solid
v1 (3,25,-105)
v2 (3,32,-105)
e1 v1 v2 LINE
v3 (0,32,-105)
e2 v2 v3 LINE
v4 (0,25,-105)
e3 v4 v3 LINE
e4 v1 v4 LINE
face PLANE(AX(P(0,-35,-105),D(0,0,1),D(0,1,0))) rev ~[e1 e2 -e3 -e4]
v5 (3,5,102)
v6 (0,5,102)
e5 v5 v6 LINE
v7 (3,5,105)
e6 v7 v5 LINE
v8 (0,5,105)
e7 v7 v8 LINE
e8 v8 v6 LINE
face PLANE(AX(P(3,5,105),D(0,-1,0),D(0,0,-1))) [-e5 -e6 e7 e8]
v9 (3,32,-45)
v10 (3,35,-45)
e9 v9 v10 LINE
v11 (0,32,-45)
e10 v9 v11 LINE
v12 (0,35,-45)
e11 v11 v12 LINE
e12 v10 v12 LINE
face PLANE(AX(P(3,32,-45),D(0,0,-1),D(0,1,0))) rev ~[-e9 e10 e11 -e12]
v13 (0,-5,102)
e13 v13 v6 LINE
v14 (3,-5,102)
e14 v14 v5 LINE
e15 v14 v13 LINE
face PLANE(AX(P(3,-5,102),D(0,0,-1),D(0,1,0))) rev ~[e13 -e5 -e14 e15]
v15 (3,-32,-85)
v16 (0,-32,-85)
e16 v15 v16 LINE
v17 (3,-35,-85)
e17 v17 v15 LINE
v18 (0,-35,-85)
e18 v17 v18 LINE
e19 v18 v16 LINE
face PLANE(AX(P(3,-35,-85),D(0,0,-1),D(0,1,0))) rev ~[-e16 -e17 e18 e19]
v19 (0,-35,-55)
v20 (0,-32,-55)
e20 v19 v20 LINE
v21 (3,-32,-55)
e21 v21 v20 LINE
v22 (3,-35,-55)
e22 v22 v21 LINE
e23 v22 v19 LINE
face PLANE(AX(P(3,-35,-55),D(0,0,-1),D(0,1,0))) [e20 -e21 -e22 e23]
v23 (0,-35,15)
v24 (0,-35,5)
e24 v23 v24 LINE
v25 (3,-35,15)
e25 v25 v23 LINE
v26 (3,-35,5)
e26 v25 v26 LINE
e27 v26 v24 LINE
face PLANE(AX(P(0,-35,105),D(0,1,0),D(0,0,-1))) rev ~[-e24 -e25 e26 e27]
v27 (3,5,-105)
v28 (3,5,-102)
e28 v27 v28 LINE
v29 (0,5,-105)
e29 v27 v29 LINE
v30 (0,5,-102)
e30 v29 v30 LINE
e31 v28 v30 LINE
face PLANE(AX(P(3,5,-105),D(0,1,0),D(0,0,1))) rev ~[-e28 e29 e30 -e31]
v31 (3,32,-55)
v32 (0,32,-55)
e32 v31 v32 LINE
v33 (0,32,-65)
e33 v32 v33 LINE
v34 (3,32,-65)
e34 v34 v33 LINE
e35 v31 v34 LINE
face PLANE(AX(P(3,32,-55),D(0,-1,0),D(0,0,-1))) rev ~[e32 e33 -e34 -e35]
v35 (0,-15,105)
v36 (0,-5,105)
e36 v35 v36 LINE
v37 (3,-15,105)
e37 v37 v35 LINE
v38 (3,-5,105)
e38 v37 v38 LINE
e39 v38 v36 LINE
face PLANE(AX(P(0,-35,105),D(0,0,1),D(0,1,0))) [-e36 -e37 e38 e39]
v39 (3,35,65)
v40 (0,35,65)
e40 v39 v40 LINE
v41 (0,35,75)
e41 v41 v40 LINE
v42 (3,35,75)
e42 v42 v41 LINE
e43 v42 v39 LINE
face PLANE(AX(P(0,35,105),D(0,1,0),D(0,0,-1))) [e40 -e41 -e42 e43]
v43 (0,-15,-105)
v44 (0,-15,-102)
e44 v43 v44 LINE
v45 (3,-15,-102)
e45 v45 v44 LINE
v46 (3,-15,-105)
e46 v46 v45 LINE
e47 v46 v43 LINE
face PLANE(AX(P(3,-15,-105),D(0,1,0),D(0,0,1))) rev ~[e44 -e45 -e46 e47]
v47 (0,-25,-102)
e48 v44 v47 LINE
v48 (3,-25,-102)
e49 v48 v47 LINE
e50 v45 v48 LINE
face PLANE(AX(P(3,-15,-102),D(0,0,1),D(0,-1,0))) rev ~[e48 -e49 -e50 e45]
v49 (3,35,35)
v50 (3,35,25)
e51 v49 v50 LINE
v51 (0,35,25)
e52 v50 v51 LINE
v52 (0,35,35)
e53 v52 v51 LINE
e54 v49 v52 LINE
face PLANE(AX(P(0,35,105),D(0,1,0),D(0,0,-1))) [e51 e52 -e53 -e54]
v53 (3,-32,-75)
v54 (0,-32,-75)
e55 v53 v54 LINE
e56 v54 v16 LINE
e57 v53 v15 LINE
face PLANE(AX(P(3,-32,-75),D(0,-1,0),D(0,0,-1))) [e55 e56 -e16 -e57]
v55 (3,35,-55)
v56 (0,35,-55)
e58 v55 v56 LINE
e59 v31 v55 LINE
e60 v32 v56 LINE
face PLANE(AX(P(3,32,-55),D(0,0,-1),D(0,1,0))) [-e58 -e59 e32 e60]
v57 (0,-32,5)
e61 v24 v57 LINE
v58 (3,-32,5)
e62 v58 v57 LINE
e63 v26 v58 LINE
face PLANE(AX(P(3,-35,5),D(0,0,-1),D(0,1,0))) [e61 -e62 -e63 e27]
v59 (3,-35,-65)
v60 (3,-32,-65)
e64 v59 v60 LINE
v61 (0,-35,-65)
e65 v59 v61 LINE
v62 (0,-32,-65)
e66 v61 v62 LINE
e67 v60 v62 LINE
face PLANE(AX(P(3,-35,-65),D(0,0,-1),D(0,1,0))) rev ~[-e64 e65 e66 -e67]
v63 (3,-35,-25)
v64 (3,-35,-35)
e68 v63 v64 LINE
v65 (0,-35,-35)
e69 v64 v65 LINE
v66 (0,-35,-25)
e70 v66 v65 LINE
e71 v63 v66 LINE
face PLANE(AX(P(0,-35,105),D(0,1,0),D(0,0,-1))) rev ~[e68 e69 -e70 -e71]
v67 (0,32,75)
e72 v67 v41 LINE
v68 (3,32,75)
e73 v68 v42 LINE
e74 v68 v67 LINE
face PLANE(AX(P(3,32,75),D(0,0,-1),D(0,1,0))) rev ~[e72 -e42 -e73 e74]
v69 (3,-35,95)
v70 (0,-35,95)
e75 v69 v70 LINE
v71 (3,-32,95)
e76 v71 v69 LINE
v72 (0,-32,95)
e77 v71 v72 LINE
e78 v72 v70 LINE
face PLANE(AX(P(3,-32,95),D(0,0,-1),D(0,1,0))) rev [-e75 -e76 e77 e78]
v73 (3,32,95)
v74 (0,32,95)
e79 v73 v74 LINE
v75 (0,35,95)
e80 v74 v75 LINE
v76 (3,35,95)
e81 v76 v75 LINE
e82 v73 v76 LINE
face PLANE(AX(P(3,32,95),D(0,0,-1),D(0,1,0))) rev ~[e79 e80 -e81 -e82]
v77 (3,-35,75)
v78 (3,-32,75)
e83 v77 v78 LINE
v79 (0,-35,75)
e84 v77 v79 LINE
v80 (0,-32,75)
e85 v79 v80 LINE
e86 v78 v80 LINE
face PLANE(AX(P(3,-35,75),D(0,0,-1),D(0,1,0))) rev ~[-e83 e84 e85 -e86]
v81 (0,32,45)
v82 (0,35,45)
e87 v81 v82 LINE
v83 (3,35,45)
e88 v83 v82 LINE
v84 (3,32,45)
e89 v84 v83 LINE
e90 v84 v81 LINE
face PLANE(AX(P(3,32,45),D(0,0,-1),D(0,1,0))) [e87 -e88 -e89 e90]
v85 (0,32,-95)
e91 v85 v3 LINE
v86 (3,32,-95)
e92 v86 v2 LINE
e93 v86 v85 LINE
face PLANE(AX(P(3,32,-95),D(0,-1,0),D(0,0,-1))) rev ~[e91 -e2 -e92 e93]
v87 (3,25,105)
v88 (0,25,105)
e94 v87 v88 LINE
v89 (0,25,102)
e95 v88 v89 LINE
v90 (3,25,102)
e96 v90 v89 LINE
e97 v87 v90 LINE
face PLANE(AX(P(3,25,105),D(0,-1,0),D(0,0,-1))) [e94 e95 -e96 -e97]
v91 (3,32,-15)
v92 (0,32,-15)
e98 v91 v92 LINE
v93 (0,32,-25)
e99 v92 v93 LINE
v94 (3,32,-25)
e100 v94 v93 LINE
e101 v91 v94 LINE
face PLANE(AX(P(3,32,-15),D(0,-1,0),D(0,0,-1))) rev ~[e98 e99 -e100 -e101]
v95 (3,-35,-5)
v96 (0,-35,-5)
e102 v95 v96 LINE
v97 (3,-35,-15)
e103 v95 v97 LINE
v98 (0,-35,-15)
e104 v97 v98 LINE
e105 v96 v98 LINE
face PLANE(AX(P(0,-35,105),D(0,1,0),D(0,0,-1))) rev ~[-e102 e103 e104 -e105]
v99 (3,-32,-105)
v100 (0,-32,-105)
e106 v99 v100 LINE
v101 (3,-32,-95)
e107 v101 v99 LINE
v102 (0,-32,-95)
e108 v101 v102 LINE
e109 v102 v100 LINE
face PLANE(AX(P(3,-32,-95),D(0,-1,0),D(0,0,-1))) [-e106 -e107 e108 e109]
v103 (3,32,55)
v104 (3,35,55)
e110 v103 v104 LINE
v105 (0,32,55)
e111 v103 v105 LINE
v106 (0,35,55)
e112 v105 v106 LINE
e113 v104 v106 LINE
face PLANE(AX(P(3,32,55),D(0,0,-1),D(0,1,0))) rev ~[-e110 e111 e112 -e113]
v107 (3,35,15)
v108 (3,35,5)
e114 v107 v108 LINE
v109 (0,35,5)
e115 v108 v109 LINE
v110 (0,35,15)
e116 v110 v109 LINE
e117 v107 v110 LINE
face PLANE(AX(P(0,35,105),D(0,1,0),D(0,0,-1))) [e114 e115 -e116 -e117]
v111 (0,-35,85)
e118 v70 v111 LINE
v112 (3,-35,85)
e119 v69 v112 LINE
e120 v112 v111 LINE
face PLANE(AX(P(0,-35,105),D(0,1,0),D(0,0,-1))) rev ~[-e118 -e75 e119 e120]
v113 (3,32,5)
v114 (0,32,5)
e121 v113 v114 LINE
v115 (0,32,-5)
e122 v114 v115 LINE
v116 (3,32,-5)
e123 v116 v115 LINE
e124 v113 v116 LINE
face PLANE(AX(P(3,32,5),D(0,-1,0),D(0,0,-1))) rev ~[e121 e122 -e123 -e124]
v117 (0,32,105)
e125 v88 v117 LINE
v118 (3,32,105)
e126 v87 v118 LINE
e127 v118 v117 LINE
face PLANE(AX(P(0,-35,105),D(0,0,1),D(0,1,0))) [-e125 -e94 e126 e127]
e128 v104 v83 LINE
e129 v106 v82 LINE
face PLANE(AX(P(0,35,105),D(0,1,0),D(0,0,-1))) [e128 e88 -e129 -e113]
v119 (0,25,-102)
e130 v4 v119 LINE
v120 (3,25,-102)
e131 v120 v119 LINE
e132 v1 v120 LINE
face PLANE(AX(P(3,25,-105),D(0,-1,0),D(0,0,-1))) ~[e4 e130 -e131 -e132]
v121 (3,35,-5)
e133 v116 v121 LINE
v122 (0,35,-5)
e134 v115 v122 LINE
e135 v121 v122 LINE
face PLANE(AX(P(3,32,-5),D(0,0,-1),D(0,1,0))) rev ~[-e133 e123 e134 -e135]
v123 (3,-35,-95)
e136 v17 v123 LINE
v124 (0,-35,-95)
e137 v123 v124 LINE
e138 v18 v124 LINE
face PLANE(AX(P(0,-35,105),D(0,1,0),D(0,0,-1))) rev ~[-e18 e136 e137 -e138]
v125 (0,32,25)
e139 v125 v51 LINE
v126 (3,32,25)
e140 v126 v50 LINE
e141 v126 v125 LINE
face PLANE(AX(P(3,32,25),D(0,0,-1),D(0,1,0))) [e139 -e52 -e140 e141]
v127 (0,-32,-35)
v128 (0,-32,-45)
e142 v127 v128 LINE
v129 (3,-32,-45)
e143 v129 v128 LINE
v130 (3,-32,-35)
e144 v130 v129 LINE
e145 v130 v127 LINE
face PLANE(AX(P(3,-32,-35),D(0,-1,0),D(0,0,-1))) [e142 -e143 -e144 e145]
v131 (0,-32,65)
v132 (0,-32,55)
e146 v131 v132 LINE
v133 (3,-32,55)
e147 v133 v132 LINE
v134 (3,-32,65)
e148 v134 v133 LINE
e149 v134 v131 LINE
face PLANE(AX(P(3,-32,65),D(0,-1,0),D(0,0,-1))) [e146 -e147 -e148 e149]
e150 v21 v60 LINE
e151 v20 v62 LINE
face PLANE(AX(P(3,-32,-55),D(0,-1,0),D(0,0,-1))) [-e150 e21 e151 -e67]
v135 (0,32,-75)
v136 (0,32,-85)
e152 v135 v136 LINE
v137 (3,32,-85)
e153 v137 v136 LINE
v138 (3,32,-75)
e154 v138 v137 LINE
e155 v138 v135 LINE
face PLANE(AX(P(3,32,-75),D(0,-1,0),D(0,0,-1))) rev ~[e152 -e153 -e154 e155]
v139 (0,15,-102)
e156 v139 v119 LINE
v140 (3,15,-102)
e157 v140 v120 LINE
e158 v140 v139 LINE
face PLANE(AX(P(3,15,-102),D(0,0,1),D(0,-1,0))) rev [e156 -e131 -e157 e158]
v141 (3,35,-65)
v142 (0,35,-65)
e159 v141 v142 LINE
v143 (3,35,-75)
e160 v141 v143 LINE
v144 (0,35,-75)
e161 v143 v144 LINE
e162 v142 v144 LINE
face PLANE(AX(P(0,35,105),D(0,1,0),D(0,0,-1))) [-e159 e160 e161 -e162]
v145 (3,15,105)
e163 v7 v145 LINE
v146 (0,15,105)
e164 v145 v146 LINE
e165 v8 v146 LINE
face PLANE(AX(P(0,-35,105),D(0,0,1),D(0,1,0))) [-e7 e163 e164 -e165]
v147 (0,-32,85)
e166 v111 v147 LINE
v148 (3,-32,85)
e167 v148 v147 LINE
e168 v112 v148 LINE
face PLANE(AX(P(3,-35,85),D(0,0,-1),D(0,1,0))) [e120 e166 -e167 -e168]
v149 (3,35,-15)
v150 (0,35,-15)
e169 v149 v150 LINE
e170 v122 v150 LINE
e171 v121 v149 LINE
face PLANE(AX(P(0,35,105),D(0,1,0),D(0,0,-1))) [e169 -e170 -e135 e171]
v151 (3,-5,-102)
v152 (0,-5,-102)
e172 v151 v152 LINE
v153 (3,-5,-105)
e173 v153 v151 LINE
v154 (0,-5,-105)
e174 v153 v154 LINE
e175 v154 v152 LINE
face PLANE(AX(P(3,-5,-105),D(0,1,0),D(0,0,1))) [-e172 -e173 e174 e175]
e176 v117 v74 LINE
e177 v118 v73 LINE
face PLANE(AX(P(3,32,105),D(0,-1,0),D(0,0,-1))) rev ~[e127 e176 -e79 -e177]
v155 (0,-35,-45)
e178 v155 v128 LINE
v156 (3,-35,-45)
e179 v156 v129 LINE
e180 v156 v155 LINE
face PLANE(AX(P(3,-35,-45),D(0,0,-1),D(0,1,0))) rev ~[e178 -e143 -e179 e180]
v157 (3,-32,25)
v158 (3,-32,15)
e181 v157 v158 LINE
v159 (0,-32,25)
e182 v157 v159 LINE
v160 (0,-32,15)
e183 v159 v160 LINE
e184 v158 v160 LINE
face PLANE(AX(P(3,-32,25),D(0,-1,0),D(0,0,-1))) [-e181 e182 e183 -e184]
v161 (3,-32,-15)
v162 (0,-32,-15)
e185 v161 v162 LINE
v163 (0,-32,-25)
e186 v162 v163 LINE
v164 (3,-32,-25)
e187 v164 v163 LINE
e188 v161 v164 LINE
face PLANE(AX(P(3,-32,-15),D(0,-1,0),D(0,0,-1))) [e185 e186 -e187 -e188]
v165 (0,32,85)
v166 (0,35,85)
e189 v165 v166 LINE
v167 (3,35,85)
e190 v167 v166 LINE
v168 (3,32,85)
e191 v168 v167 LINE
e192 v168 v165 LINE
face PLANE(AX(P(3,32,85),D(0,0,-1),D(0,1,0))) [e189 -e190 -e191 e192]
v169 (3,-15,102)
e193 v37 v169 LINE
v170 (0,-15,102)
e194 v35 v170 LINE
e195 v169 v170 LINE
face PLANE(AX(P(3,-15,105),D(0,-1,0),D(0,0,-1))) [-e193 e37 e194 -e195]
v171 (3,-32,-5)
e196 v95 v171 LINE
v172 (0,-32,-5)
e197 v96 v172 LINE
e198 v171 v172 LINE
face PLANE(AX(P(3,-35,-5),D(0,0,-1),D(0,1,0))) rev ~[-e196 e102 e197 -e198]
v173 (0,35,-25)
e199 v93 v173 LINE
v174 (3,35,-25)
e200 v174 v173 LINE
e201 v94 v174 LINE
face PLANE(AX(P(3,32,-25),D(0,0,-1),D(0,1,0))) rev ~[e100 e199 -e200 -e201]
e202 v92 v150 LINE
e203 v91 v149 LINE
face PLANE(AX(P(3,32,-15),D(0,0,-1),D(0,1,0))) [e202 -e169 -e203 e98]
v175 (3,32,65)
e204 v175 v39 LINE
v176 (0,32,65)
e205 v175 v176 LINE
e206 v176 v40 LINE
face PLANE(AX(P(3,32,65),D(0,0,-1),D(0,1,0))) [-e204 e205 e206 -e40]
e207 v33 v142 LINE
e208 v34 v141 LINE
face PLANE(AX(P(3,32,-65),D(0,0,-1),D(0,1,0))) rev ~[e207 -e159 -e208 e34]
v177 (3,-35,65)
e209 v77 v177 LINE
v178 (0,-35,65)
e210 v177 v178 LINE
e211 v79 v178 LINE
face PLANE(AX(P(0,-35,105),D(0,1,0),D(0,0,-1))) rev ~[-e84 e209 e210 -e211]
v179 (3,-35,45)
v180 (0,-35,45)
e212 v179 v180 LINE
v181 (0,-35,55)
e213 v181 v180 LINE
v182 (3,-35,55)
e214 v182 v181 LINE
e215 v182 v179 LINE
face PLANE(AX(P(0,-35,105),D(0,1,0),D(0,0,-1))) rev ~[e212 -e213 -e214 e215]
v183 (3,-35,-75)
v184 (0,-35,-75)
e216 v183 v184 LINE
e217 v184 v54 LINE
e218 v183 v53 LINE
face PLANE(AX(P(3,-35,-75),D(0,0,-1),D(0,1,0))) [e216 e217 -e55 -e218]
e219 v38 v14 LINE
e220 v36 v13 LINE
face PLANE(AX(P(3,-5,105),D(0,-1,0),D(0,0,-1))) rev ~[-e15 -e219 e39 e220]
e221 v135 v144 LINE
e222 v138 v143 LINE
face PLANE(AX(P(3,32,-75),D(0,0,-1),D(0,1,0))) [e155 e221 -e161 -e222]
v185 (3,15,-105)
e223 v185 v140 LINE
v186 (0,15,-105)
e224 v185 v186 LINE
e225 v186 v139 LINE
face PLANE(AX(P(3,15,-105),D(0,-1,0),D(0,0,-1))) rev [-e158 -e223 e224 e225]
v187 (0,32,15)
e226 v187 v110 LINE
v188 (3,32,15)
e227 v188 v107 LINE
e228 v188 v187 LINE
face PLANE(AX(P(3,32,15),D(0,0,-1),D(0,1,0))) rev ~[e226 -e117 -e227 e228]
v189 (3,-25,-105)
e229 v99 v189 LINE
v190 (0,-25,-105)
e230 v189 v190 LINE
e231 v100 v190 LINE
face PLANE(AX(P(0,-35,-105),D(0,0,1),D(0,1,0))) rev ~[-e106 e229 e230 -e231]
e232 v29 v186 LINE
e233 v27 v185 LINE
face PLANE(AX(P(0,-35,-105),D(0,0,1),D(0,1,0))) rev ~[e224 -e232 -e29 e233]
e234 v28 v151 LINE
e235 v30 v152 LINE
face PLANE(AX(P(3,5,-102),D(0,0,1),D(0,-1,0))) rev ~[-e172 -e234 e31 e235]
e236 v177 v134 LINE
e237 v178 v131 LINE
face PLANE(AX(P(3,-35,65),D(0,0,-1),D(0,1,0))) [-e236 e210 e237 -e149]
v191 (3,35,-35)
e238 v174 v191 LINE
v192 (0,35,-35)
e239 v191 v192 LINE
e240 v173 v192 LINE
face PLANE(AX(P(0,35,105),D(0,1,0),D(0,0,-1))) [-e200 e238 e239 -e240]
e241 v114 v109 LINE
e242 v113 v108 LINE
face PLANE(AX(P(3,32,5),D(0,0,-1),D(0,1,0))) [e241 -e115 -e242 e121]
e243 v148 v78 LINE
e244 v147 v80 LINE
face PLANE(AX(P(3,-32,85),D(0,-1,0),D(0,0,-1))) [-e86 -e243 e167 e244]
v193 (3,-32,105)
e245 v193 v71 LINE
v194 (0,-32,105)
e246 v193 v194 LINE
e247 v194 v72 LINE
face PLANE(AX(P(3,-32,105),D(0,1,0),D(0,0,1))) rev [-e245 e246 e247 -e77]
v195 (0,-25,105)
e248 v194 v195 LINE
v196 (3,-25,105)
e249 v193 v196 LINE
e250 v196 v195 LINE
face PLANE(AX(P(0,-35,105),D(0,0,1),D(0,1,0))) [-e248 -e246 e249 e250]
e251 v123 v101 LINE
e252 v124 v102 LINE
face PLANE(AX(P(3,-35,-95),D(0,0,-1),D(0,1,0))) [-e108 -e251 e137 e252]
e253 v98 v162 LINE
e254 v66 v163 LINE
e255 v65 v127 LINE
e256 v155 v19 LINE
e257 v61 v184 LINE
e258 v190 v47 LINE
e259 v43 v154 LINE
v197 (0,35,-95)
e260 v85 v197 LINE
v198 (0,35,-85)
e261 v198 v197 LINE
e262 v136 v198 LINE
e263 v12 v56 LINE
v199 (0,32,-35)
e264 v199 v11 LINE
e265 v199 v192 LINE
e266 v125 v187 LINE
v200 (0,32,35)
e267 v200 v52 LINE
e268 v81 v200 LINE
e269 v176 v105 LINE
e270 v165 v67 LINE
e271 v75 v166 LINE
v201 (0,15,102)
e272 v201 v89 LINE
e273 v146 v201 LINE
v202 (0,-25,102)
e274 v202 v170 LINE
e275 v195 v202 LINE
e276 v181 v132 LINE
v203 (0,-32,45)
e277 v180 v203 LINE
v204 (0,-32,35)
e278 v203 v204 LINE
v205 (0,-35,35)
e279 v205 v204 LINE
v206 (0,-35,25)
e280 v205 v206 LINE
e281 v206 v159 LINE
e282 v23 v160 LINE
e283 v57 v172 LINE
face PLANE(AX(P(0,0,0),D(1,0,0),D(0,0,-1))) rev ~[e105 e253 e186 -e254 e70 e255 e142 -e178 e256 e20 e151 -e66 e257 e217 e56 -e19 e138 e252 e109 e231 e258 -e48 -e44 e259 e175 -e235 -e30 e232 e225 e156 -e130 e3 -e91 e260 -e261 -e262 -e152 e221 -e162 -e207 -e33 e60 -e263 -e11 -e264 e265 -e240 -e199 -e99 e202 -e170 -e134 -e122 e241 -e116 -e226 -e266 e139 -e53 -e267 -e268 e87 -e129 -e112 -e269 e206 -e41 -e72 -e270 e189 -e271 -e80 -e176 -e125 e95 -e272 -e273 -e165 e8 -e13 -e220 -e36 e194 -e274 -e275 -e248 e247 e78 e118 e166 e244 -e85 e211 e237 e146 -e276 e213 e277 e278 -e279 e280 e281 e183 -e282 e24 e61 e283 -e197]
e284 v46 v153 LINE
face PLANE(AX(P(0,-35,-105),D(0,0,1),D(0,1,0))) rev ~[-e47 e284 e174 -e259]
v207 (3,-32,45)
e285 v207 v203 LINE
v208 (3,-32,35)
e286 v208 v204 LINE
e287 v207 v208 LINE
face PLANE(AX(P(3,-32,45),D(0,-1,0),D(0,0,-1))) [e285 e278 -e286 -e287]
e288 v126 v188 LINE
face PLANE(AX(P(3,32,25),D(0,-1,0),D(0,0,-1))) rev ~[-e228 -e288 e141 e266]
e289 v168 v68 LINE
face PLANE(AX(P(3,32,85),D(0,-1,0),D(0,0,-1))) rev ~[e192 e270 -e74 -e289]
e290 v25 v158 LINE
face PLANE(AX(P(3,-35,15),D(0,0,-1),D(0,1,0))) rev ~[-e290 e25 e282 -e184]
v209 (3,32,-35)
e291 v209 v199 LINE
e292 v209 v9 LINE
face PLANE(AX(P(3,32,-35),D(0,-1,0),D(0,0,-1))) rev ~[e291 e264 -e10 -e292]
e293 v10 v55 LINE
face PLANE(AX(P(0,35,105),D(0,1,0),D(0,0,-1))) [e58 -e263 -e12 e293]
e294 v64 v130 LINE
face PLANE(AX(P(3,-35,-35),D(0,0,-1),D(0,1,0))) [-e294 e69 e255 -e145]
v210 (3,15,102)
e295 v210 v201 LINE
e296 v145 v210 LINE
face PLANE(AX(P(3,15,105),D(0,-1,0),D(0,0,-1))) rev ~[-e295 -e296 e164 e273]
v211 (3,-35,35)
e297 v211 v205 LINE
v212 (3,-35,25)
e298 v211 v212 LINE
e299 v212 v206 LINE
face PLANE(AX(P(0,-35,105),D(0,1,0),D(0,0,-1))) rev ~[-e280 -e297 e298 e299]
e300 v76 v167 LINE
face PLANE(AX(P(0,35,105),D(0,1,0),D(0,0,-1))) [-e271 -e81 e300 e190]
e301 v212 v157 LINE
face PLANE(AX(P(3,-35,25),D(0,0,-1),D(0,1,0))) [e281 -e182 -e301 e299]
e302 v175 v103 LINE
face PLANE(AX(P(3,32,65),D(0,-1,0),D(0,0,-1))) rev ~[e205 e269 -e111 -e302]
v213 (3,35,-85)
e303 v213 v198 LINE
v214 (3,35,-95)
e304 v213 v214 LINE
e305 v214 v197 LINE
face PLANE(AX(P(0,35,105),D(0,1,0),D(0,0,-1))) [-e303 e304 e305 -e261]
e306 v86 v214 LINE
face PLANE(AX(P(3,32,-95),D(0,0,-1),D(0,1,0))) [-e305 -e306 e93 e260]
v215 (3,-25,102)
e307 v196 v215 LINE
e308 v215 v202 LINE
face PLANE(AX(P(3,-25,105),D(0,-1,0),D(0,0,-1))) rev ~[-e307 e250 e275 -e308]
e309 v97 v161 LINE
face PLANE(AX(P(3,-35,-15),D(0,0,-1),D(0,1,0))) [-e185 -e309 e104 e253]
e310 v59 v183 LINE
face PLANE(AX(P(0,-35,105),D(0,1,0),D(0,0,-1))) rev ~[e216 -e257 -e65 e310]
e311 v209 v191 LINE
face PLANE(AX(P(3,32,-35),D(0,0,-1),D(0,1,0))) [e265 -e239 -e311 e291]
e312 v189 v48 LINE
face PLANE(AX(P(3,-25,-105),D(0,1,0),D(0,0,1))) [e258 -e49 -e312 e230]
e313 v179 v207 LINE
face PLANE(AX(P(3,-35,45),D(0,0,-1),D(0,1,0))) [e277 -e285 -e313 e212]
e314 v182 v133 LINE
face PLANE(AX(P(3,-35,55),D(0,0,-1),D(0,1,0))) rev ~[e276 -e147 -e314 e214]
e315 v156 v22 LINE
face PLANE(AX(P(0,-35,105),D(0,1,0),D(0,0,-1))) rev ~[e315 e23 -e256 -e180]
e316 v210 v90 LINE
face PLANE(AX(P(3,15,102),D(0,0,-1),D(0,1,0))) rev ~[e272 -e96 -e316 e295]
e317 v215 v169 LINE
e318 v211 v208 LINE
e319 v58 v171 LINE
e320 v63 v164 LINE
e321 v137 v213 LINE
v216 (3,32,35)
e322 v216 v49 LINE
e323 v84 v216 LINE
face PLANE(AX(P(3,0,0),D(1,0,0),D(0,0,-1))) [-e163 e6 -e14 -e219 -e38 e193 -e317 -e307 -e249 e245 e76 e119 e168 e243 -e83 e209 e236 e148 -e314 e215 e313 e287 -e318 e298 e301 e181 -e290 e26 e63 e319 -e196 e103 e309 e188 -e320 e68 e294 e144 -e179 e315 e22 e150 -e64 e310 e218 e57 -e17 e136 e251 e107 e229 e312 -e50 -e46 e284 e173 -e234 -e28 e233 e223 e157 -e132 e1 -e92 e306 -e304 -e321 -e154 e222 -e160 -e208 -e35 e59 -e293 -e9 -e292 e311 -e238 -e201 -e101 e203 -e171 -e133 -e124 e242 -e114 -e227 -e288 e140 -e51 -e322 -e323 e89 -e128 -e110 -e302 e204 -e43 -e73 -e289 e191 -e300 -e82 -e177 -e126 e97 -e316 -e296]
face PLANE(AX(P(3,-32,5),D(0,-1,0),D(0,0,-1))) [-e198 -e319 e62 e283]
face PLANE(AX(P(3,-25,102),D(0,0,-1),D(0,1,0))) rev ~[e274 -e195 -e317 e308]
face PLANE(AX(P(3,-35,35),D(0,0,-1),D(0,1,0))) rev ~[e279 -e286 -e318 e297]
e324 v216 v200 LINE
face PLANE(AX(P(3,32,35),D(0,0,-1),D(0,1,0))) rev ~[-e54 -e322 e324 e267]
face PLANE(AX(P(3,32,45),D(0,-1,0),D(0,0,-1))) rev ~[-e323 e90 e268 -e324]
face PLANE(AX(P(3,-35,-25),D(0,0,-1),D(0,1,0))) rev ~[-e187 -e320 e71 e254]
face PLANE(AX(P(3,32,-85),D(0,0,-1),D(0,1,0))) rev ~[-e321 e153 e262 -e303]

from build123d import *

# Parameters (mm, degrees)
SKETCH1_W                = 210
SKETCH1_H                = 70
BOSS_EXTRUDE1_DEPTH      = 3
SKETCH2_W                = 10
SKETCH2_H                = 3
CUT_EXTRUDE1_DEPTH       = 3
LPATTERN1_COUNT          = 11
LPATTERN1_PITCH          = 20
MIRROR1_COPY_1_SKETCH_W  = 10
MIRROR1_COPY_1_SKETCH_H  = 3
MIRROR1_COPY_1_DEPTH     = 3
MIRROR1_COPY_2_SKETCH_W  = 10
MIRROR1_COPY_2_SKETCH_H  = 3
MIRROR1_COPY_2_DEPTH     = 3
MIRROR1_COPY_3_SKETCH_W  = 10
MIRROR1_COPY_3_SKETCH_H  = 3
MIRROR1_COPY_3_DEPTH     = 3
MIRROR1_COPY_4_SKETCH_W  = 10
MIRROR1_COPY_4_SKETCH_H  = 3
MIRROR1_COPY_4_DEPTH     = 3
MIRROR1_COPY_5_SKETCH_W  = 10
MIRROR1_COPY_5_SKETCH_H  = 3
MIRROR1_COPY_5_DEPTH     = 3
MIRROR1_COPY_6_SKETCH_W  = 10
MIRROR1_COPY_6_SKETCH_H  = 3
MIRROR1_COPY_6_DEPTH     = 3
MIRROR1_COPY_7_SKETCH_W  = 10
MIRROR1_COPY_7_SKETCH_H  = 3
MIRROR1_COPY_7_DEPTH     = 3
MIRROR1_COPY_8_SKETCH_W  = 10
MIRROR1_COPY_8_SKETCH_H  = 3
MIRROR1_COPY_8_DEPTH     = 3
MIRROR1_COPY_9_SKETCH_W  = 10
MIRROR1_COPY_9_SKETCH_H  = 3
MIRROR1_COPY_9_DEPTH     = 3
MIRROR1_COPY_10_SKETCH_W = 10
MIRROR1_COPY_10_SKETCH_H = 3
MIRROR1_COPY_10_DEPTH    = 3
SKETCH3_W                = 3
SKETCH3_H                = 10
CUT_EXTRUDE2_DEPTH       = 3
LPATTERN2_COUNT          = 3
LPATTERN2_PITCH          = 20
MIRROR2_COPY_1_SKETCH_W  = 3
MIRROR2_COPY_1_SKETCH_H  = 10
MIRROR2_COPY_1_DEPTH     = 3
MIRROR2_COPY_2_SKETCH_W  = 3
MIRROR2_COPY_2_SKETCH_H  = 10
MIRROR2_COPY_2_DEPTH     = 3


with BuildPart() as part:
    # Sketch1 → Boss-Extrude1 (new body)
    with BuildSketch(Plane(origin=(0, 0, 0), x_dir=(0, 0, -1), z_dir=(1, 0, 0))):
        Rectangle(SKETCH1_W, SKETCH1_H)
    extrude(amount=BOSS_EXTRUDE1_DEPTH)

    # Sketch2 → Cut-Extrude1 (cut)
    with BuildSketch(Plane(origin=(3, 0, 0), x_dir=(0, 0, -1), z_dir=(1, 0, 0))):
        with Locations((-100, 33.5)):
            Rectangle(SKETCH2_W, SKETCH2_H)
    cut_extrude1 = extrude(amount=-CUT_EXTRUDE1_DEPTH, mode=Mode.SUBTRACT)

    # LPattern1: Cut-Extrude1 ×11
    with Locations(*[(0, 0, -i * LPATTERN1_PITCH) for i in range(1, LPATTERN1_COUNT)]):
        add(cut_extrude1, mode=Mode.SUBTRACT)

    # Mirror1: Cut-Extrude1 across plane
    add(cut_extrude1.mirror(Plane.ZX), mode=Mode.SUBTRACT)

    # Mirror1 copy 1 sketch → Mirror1 copy 1 (cut)
    with BuildSketch(Plane(origin=(3, 0, -20), x_dir=(0, 0, -1), z_dir=(1, 0, 0))):
        with Locations((-100, -33.5)):
            Rectangle(MIRROR1_COPY_1_SKETCH_W, MIRROR1_COPY_1_SKETCH_H)
    extrude(amount=-MIRROR1_COPY_1_DEPTH, mode=Mode.SUBTRACT)

    # Mirror1 copy 2 sketch → Mirror1 copy 2 (cut)
    with BuildSketch(Plane(origin=(3, 0, -40), x_dir=(0, 0, -1), z_dir=(1, 0, 0))):
        with Locations((-100, -33.5)):
            Rectangle(MIRROR1_COPY_2_SKETCH_W, MIRROR1_COPY_2_SKETCH_H)
    extrude(amount=-MIRROR1_COPY_2_DEPTH, mode=Mode.SUBTRACT)

    # Mirror1 copy 3 sketch → Mirror1 copy 3 (cut)
    with BuildSketch(Plane(origin=(3, 0, -60), x_dir=(0, 0, -1), z_dir=(1, 0, 0))):
        with Locations((-100, -33.5)):
            Rectangle(MIRROR1_COPY_3_SKETCH_W, MIRROR1_COPY_3_SKETCH_H)
    extrude(amount=-MIRROR1_COPY_3_DEPTH, mode=Mode.SUBTRACT)

    # Mirror1 copy 4 sketch → Mirror1 copy 4 (cut)
    with BuildSketch(Plane(origin=(3, 0, -80), x_dir=(0, 0, -1), z_dir=(1, 0, 0))):
        with Locations((-100, -33.5)):
            Rectangle(MIRROR1_COPY_4_SKETCH_W, MIRROR1_COPY_4_SKETCH_H)
    extrude(amount=-MIRROR1_COPY_4_DEPTH, mode=Mode.SUBTRACT)

    # Mirror1 copy 5 sketch → Mirror1 copy 5 (cut)
    with BuildSketch(Plane(origin=(3, 0, -100), x_dir=(0, 0, -1), z_dir=(1, 0, 0))):
        with Locations((-100, -33.5)):
            Rectangle(MIRROR1_COPY_5_SKETCH_W, MIRROR1_COPY_5_SKETCH_H)
    extrude(amount=-MIRROR1_COPY_5_DEPTH, mode=Mode.SUBTRACT)

    # Mirror1 copy 6 sketch → Mirror1 copy 6 (cut)
    with BuildSketch(Plane(origin=(3, 0, -120), x_dir=(0, 0, -1), z_dir=(1, 0, 0))):
        with Locations((-100, -33.5)):
            Rectangle(MIRROR1_COPY_6_SKETCH_W, MIRROR1_COPY_6_SKETCH_H)
    extrude(amount=-MIRROR1_COPY_6_DEPTH, mode=Mode.SUBTRACT)

    # Mirror1 copy 7 sketch → Mirror1 copy 7 (cut)
    with BuildSketch(Plane(origin=(3, 0, -140), x_dir=(0, 0, -1), z_dir=(1, 0, 0))):
        with Locations((-100, -33.5)):
            Rectangle(MIRROR1_COPY_7_SKETCH_W, MIRROR1_COPY_7_SKETCH_H)
    extrude(amount=-MIRROR1_COPY_7_DEPTH, mode=Mode.SUBTRACT)

    # Mirror1 copy 8 sketch → Mirror1 copy 8 (cut)
    with BuildSketch(Plane(origin=(3, 0, -160), x_dir=(0, 0, -1), z_dir=(1, 0, 0))):
        with Locations((-100, -33.5)):
            Rectangle(MIRROR1_COPY_8_SKETCH_W, MIRROR1_COPY_8_SKETCH_H)
    extrude(amount=-MIRROR1_COPY_8_DEPTH, mode=Mode.SUBTRACT)

    # Mirror1 copy 9 sketch → Mirror1 copy 9 (cut)
    with BuildSketch(Plane(origin=(3, 0, -180), x_dir=(0, 0, -1), z_dir=(1, 0, 0))):
        with Locations((-100, -33.5)):
            Rectangle(MIRROR1_COPY_9_SKETCH_W, MIRROR1_COPY_9_SKETCH_H)
    extrude(amount=-MIRROR1_COPY_9_DEPTH, mode=Mode.SUBTRACT)

    # Mirror1 copy 10 sketch → Mirror1 copy 10 (cut)
    with BuildSketch(Plane(origin=(3, 0, -200), x_dir=(0, 0, -1), z_dir=(1, 0, 0))):
        with Locations((-100, -33.5)):
            Rectangle(MIRROR1_COPY_10_SKETCH_W, MIRROR1_COPY_10_SKETCH_H)
    extrude(amount=-MIRROR1_COPY_10_DEPTH, mode=Mode.SUBTRACT)

    # Sketch3 → Cut-Extrude2 (cut)
    with BuildSketch(Plane(origin=(3, 0, 0), x_dir=(0, 0, -1), z_dir=(1, 0, 0))):
        with Locations((-103.5, 20)):
            Rectangle(SKETCH3_W, SKETCH3_H)
    cut_extrude2 = extrude(amount=-CUT_EXTRUDE2_DEPTH, mode=Mode.SUBTRACT)

    # LPattern2: Cut-Extrude2 ×3
    with Locations(*[(0, -i * LPATTERN2_PITCH, 0) for i in range(1, LPATTERN2_COUNT)]):
        add(cut_extrude2, mode=Mode.SUBTRACT)

    # Mirror2: Cut-Extrude2 across plane
    add(cut_extrude2.mirror(Plane.XY), mode=Mode.SUBTRACT)

    # Mirror2 copy 1 sketch → Mirror2 copy 1 (cut)
    with BuildSketch(Plane(origin=(3, -20, 0), x_dir=(0, 0, 1), z_dir=(1, 0, 0))):
        with Locations((-103.5, -20)):
            Rectangle(MIRROR2_COPY_1_SKETCH_W, MIRROR2_COPY_1_SKETCH_H)
    extrude(amount=-MIRROR2_COPY_1_DEPTH, mode=Mode.SUBTRACT)

    # Mirror2 copy 2 sketch → Mirror2 copy 2 (cut)
    with BuildSketch(Plane(origin=(3, -40, 0), x_dir=(0, 0, 1), z_dir=(1, 0, 0))):
        with Locations((-103.5, -20)):
            Rectangle(MIRROR2_COPY_2_SKETCH_W, MIRROR2_COPY_2_SKETCH_H)
    extrude(amount=-MIRROR2_COPY_2_DEPTH, mode=Mode.SUBTRACT)


solid = part.part
